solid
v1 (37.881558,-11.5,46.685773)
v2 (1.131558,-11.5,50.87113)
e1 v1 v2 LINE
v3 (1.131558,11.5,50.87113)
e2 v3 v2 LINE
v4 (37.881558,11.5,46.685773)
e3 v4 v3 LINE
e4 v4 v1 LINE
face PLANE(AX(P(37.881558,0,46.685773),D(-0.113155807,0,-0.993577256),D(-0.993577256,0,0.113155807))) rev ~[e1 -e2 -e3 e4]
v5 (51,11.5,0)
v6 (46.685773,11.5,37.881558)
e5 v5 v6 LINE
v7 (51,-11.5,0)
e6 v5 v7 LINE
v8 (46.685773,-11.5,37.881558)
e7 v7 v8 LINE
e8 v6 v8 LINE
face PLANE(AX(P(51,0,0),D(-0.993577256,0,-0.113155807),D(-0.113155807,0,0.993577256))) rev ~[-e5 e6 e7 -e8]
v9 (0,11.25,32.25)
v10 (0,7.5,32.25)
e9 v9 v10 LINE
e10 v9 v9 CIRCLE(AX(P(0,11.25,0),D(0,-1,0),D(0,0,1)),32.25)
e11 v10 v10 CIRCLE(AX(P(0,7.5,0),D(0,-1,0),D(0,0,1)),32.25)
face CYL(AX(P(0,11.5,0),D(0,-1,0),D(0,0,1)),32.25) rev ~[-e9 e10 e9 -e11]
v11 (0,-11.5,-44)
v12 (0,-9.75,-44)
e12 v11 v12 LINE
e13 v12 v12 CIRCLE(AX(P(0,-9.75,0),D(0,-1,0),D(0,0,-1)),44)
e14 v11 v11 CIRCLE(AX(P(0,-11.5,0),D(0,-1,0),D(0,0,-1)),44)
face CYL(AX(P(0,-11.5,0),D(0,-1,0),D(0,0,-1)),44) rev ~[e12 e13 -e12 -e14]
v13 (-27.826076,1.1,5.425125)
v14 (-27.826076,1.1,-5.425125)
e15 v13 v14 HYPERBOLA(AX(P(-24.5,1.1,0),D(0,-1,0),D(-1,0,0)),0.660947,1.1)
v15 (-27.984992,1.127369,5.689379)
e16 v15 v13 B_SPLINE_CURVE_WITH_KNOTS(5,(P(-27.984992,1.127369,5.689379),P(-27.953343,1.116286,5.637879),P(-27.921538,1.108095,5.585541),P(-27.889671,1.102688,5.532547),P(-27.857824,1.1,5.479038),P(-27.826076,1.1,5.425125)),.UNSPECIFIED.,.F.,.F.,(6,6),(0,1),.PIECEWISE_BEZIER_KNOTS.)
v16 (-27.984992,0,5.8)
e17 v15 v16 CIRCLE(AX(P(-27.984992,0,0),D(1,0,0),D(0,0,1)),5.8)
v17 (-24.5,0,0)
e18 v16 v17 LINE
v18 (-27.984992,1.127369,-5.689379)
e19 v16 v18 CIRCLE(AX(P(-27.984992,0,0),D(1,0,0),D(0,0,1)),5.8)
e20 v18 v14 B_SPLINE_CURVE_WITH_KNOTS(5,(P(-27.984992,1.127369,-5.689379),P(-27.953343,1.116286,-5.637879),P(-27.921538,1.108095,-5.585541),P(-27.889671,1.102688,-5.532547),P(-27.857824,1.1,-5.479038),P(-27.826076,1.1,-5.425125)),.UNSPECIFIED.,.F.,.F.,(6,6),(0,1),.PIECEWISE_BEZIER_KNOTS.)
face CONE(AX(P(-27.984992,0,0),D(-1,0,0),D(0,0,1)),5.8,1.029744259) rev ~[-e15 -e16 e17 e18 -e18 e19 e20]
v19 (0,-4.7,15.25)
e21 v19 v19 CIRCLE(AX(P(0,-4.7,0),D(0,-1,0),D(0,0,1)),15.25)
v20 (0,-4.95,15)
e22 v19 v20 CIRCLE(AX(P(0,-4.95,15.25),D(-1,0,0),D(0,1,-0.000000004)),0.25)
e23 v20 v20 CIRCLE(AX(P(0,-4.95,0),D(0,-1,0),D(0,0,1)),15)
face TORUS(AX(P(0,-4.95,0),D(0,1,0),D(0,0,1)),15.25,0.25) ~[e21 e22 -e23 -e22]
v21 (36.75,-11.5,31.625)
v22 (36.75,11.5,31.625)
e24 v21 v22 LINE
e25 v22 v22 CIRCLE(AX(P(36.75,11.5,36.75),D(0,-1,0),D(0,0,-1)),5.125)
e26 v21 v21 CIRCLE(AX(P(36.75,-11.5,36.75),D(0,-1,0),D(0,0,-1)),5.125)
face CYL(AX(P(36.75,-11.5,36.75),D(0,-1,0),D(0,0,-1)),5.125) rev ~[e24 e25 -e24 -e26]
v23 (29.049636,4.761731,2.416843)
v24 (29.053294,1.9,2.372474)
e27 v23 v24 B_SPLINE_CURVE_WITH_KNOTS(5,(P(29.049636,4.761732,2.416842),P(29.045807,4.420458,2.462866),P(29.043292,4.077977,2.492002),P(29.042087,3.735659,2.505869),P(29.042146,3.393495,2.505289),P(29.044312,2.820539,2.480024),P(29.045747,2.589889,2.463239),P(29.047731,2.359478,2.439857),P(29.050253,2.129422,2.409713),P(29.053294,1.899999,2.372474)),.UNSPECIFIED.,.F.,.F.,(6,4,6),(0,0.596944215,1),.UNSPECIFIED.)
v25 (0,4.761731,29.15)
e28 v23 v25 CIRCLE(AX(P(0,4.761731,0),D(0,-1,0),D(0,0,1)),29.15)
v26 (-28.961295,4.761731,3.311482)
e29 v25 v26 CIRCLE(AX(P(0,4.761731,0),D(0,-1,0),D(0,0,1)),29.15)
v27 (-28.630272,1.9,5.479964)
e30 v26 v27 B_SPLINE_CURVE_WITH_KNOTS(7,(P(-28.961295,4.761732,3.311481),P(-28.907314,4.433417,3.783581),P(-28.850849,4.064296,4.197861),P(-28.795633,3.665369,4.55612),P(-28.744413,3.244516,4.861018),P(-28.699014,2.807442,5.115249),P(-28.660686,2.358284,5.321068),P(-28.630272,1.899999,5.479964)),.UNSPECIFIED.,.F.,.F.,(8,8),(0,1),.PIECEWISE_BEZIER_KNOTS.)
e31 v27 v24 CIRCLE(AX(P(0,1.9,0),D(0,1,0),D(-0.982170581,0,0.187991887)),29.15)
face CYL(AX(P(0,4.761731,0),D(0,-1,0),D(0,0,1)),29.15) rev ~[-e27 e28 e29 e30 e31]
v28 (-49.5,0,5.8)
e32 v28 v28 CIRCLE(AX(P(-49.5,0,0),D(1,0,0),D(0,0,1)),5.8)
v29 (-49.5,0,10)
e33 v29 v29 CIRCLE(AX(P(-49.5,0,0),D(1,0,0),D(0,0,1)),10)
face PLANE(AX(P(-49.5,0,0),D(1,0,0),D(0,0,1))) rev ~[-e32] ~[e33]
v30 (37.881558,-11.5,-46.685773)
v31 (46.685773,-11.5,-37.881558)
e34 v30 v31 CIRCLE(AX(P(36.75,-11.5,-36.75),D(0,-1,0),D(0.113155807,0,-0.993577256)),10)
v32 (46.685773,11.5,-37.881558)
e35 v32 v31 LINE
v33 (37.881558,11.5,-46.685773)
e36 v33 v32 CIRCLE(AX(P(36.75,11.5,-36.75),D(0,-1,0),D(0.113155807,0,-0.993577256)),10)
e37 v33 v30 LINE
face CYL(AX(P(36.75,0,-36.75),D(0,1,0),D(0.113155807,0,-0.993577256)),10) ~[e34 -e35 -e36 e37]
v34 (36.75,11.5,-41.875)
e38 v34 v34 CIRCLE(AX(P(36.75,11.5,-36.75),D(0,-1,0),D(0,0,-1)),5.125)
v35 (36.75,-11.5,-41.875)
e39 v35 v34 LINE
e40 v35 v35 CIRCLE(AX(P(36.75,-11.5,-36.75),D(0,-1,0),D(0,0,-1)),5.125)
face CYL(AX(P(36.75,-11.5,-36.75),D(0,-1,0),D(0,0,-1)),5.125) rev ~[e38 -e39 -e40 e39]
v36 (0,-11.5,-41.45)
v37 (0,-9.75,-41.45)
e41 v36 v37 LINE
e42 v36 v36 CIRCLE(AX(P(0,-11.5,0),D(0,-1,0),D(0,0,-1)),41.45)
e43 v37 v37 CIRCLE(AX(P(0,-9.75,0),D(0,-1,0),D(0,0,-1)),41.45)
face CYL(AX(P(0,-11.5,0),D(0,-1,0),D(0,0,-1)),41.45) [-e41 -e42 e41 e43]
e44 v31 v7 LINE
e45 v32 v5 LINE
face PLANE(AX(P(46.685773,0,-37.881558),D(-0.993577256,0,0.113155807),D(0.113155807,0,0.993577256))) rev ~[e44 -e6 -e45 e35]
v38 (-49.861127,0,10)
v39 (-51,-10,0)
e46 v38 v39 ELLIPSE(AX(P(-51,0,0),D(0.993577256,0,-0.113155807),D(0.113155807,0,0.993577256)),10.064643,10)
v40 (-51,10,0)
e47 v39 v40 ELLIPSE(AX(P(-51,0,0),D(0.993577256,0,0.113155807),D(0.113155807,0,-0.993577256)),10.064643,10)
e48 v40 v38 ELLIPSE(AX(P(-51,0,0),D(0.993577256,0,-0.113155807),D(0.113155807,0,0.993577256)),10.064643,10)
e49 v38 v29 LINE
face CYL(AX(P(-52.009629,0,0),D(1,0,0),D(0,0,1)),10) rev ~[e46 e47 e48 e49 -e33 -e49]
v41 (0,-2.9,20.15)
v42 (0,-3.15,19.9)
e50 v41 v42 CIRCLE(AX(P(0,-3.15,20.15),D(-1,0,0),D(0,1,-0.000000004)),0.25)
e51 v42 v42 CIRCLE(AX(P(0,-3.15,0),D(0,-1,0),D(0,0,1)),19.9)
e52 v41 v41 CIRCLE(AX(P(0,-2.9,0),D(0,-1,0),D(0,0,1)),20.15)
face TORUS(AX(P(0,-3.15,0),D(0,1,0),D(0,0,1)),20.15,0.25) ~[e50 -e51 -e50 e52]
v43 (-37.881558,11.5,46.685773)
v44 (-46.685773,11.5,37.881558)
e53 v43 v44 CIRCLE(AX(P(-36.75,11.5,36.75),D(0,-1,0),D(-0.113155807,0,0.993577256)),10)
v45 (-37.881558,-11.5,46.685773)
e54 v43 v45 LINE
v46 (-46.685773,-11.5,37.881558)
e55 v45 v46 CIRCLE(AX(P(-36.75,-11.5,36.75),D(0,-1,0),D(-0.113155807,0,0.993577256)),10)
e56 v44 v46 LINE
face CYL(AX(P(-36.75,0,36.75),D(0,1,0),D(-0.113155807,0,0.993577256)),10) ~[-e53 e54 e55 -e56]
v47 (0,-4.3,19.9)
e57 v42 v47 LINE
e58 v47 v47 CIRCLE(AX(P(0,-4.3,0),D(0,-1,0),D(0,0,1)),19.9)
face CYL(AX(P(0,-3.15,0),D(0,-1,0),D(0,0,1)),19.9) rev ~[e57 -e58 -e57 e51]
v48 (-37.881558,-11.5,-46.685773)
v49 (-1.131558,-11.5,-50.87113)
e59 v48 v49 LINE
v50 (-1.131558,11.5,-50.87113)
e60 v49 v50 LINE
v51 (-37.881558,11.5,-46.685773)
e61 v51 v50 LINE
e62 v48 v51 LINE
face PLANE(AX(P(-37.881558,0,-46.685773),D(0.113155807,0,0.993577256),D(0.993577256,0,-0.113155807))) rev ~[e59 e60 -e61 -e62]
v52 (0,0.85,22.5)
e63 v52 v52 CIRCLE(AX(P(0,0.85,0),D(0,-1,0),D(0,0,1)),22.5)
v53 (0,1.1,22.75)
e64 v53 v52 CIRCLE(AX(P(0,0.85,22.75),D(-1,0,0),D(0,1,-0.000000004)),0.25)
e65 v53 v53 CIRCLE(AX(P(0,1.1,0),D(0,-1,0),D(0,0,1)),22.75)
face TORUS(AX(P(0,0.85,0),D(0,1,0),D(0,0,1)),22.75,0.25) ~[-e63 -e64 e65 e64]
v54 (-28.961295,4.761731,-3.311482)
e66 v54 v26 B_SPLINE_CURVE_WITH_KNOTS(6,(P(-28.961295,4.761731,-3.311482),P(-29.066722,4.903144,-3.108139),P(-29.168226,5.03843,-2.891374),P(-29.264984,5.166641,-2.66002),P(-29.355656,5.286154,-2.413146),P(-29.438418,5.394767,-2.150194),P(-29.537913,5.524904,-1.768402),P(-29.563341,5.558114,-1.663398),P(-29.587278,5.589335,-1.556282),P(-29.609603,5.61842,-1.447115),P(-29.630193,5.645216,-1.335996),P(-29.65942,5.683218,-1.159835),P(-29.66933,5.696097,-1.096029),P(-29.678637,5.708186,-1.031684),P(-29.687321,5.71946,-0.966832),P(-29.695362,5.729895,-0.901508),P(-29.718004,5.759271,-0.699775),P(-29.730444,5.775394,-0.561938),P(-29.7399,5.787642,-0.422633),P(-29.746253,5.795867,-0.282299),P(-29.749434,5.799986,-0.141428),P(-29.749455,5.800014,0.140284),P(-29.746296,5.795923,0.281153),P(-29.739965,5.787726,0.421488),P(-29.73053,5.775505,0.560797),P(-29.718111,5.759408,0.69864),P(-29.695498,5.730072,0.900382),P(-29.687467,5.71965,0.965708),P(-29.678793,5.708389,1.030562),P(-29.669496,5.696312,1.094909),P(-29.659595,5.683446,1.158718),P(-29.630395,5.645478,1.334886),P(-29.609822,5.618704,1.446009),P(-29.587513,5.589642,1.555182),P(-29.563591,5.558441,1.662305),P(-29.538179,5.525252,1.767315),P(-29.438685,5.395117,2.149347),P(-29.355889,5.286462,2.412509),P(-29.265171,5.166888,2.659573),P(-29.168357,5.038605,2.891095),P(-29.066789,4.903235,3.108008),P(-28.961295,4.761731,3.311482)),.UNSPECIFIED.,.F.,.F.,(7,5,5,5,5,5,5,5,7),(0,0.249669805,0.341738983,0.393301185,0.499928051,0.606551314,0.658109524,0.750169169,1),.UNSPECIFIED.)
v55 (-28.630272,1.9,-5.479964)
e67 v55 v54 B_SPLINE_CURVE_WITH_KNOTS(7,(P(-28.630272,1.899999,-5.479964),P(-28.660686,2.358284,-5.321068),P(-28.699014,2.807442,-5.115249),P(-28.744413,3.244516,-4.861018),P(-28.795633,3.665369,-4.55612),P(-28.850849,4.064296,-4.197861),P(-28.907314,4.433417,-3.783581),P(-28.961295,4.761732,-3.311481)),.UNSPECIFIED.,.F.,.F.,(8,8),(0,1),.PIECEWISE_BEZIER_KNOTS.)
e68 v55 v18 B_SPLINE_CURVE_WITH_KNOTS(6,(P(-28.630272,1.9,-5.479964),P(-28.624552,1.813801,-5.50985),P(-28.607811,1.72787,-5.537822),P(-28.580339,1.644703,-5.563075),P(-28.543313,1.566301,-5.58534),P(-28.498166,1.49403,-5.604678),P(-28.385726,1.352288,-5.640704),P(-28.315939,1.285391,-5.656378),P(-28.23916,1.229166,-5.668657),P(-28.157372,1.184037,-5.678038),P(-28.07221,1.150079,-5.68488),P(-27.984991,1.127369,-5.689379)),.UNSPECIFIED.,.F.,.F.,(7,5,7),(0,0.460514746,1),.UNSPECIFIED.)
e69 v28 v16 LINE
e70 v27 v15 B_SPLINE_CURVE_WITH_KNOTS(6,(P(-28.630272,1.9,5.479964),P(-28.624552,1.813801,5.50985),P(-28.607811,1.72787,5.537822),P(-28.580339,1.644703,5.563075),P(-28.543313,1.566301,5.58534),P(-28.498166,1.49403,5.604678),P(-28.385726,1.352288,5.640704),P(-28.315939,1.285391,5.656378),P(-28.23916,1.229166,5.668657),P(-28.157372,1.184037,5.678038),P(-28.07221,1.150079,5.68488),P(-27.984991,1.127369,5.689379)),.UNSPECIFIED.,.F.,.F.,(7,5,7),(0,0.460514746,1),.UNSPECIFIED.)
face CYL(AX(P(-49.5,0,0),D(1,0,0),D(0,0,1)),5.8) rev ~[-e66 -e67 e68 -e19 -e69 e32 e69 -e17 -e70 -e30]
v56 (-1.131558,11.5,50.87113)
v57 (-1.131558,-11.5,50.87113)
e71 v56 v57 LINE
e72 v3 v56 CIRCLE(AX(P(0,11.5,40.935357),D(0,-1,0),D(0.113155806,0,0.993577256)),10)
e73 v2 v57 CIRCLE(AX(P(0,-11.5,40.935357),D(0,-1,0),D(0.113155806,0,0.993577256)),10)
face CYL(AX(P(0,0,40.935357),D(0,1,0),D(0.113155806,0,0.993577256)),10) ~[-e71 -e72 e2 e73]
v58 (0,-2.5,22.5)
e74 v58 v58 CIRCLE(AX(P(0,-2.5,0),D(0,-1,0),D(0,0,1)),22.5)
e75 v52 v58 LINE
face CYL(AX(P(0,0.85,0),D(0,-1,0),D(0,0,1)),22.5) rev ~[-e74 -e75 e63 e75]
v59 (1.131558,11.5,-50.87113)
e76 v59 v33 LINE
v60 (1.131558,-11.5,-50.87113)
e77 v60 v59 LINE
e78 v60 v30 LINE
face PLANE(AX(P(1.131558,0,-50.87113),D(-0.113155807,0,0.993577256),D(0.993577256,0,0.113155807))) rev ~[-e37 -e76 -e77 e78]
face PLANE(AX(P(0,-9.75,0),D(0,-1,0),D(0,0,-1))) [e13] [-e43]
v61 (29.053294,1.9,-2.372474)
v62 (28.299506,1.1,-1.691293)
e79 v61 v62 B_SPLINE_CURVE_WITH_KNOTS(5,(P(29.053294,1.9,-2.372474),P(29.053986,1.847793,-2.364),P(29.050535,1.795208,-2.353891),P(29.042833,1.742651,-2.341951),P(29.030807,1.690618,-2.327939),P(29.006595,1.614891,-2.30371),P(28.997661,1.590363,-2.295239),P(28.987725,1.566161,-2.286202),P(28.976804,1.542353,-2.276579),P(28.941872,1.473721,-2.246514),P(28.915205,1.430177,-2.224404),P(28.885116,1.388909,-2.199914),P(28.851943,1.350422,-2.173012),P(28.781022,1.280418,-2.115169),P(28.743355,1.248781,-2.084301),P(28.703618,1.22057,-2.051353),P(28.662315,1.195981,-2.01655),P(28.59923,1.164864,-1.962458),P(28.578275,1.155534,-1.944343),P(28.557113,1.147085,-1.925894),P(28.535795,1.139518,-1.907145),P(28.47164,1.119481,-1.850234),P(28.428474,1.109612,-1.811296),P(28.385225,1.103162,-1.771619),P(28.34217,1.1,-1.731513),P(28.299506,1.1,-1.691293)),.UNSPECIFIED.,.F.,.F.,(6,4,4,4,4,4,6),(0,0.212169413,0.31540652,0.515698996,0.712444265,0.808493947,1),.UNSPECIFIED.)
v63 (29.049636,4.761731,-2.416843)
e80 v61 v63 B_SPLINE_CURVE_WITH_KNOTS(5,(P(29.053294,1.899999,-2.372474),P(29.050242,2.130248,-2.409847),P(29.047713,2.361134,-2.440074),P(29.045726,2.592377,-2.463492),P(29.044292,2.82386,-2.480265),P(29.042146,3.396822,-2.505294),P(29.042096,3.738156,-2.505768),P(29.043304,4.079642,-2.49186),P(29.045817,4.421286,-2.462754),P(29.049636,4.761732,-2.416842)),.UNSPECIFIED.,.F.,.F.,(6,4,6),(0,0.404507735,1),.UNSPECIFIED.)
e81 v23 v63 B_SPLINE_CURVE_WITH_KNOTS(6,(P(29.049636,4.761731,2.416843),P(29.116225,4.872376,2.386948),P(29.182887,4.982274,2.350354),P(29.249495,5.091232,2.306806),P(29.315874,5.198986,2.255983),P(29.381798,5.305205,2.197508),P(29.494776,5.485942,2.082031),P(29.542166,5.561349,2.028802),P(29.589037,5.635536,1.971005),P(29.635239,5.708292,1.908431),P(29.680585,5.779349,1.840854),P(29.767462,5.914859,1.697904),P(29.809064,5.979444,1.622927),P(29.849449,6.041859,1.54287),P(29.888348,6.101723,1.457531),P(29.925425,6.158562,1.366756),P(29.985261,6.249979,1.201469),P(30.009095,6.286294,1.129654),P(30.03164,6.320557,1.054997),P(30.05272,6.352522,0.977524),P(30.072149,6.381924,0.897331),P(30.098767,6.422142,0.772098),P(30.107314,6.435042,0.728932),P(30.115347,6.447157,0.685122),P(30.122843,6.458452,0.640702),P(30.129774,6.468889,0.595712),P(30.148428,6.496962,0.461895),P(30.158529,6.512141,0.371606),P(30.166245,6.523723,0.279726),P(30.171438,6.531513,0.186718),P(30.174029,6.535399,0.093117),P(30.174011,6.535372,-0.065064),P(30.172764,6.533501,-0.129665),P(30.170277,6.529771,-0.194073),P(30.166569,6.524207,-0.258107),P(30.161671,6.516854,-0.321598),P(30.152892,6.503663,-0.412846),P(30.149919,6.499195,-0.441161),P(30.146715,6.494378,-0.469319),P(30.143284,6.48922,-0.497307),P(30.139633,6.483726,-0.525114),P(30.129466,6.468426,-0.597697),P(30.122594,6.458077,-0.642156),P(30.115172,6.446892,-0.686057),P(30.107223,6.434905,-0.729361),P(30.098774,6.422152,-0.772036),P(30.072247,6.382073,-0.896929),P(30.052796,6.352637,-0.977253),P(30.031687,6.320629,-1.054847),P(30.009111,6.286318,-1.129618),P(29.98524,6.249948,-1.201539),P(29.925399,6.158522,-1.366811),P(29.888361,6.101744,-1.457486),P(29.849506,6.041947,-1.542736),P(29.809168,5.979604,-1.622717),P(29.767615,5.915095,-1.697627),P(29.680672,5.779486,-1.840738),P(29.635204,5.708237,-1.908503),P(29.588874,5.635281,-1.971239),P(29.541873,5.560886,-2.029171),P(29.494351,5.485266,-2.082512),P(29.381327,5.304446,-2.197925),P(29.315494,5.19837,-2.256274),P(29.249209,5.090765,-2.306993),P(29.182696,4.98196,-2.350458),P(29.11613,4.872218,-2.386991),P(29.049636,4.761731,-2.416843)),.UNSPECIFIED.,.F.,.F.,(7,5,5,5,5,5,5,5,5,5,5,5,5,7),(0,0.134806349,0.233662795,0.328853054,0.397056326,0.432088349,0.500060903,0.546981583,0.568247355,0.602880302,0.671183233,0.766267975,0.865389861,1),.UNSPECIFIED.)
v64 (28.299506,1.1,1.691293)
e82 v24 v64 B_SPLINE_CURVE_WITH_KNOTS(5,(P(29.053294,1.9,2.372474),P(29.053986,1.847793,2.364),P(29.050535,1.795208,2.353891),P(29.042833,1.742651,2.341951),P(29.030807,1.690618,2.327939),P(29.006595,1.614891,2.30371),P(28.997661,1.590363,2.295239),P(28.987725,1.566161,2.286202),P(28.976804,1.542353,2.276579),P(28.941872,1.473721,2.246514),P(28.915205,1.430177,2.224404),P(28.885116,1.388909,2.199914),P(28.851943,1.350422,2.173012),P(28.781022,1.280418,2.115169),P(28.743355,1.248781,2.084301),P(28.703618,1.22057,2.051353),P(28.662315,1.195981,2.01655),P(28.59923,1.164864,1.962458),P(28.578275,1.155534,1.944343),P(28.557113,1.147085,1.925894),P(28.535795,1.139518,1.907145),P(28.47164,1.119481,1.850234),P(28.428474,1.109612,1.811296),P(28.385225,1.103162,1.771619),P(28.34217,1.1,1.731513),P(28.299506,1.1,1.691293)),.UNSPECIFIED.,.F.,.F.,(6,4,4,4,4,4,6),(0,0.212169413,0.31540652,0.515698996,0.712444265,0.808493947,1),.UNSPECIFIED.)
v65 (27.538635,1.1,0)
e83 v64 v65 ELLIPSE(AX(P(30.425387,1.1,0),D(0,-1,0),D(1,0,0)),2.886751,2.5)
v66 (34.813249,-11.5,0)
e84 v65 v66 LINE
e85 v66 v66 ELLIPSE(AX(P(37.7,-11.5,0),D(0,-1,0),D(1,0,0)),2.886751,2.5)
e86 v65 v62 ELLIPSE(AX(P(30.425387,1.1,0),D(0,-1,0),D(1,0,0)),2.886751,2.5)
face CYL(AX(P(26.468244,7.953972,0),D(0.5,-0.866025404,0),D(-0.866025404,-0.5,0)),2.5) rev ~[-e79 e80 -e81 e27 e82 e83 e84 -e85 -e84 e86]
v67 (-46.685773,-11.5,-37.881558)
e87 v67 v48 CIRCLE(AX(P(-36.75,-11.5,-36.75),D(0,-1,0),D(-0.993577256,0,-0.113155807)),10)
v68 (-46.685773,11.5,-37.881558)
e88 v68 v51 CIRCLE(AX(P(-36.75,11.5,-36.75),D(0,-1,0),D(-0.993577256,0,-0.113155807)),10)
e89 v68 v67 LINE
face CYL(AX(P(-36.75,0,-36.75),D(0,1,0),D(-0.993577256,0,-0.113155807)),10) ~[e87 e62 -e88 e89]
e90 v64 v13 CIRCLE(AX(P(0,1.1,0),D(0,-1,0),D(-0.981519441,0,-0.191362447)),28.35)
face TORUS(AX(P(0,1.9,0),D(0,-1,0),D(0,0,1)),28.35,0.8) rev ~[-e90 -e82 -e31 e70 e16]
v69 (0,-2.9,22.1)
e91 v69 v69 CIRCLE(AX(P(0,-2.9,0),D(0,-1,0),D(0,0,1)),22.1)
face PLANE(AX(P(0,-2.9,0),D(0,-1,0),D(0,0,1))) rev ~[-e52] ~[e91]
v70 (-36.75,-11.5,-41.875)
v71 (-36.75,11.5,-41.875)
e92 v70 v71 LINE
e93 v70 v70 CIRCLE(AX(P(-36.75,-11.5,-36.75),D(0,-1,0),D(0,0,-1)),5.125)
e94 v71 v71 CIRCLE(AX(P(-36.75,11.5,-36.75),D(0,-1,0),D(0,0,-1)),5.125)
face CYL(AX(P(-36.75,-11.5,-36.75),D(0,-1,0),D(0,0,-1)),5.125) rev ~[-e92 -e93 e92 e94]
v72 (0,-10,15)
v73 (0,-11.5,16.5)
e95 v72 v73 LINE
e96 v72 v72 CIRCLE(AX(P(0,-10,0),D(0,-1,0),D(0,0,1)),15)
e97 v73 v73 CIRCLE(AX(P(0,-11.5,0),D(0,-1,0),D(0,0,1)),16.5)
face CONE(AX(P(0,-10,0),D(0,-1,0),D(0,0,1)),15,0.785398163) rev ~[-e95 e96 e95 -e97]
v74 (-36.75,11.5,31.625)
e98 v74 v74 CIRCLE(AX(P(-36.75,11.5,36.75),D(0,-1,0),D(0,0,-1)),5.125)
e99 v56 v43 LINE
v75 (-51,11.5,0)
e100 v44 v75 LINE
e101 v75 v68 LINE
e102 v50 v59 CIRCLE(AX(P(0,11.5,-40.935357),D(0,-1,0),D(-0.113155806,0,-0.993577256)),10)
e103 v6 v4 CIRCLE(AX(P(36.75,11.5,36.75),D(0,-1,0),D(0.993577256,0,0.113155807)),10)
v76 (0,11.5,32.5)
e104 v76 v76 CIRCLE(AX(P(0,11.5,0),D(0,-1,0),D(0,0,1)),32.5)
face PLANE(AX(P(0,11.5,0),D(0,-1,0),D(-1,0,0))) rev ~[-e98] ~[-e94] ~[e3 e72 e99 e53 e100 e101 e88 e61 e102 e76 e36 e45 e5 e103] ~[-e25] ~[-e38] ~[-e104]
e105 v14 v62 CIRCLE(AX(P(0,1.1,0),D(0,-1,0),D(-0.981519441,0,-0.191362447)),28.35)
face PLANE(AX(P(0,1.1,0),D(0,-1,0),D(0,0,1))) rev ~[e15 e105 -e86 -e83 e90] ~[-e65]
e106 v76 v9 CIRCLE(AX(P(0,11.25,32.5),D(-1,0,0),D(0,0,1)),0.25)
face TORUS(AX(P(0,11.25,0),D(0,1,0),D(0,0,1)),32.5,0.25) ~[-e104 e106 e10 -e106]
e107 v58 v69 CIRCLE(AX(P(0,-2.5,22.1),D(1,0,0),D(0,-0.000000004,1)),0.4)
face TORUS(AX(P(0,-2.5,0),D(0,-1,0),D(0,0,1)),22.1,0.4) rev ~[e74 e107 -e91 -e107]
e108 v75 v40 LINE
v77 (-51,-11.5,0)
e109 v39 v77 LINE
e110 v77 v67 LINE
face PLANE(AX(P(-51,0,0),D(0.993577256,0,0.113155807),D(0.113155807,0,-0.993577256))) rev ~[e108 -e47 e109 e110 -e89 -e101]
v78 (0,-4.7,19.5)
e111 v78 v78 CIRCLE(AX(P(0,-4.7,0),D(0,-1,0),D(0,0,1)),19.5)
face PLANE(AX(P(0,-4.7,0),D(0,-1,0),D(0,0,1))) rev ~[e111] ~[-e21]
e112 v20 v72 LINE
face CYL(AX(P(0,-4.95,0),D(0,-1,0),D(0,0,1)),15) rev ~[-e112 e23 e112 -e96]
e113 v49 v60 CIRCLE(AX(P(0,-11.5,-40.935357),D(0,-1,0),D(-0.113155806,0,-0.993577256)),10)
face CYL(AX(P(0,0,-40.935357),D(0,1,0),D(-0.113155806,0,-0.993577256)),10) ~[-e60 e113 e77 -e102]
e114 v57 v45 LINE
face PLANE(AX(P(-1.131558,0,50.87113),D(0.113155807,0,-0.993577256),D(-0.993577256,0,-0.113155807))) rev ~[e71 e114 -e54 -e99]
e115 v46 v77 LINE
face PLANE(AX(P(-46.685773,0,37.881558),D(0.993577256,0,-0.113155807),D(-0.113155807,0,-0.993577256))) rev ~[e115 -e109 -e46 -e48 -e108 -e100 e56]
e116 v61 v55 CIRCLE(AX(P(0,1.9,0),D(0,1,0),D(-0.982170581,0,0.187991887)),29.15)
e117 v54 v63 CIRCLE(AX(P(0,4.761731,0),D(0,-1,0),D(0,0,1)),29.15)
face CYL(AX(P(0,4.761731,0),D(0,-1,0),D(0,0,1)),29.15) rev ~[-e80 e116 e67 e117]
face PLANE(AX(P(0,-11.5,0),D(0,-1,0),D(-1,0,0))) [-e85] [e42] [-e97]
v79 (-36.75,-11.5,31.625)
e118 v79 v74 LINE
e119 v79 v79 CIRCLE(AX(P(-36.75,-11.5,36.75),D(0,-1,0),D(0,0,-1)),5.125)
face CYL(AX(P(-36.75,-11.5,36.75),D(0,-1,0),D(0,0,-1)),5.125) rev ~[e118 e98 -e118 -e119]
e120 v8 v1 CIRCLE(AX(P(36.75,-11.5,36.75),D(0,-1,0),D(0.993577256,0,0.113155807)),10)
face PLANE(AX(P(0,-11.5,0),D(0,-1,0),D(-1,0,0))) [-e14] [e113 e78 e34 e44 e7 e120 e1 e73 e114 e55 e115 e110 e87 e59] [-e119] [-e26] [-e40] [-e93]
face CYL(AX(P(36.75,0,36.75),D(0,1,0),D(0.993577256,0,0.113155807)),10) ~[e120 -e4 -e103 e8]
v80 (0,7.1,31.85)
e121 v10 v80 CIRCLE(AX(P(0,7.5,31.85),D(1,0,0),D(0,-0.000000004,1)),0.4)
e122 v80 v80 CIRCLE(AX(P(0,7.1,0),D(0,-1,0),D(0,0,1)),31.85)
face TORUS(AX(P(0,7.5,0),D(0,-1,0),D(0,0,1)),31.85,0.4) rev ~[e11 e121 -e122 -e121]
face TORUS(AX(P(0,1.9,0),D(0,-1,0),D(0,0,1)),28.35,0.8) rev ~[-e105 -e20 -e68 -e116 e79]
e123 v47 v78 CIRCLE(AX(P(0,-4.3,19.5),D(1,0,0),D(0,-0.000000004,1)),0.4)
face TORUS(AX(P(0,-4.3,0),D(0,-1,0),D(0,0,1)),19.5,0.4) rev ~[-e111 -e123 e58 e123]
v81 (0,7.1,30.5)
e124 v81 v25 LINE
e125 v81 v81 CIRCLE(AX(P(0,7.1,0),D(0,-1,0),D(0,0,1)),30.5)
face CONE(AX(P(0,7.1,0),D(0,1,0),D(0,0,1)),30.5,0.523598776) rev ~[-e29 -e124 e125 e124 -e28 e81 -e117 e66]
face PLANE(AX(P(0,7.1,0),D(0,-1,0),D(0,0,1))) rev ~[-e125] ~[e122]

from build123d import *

# Parameters (mm, degrees)
BOSS_EXTRUDE1_DEPTH = 11.5
SKETCH5_R           = 5.125
CUT_EXTRUDE3_DEPTH  = 76.659834992
SKETCH4_R           = 44
SKETCH4_R_2         = 41.45
CUT_EXTRUDE2_DEPTH  = 1.75
FILLET1_R           = 0.25


with BuildPart() as part:
    # Sketch2 → Boss-Extrude1 (new, symmetric)
    with BuildSketch(Plane(origin=(0, 0, 0), x_dir=(1, 0, 0), z_dir=(0, 1, 0))):
        with BuildLine():
            Line((1.131558067, 50.871129935), (37.881558067, 46.685772559))
            ThreePointArc((37.881558067, 46.685772559), (43.821067812, 43.821067812), (46.685772559, 37.881558067))
            Line((46.685772559, 37.881558067), (51, 0))
            Line((51, 0), (46.685772559, -37.881558067))
            ThreePointArc((46.685772559, -37.881558067), (43.821067812, -43.821067812), (37.881558067, -46.685772559))
            Line((37.881558067, -46.685772559), (1.131558067, -50.871129935))
            ThreePointArc((1.131558067, -50.871129935), (0, -50.935357376), (-1.131558067, -50.871129935))
            Line((-1.131558067, -50.871129935), (-37.881558067, -46.685772559))
            ThreePointArc((-37.881558067, -46.685772559), (-43.821067812, -43.821067812), (-46.685772559, -37.881558067))
            Line((-46.685772559, -37.881558067), (-51, 0))
            Line((-51, 0), (-46.685772559, 37.881558067))
            ThreePointArc((-46.685772559, 37.881558067), (-43.821067812, 43.821067812), (-37.881558067, 46.685772559))
            Line((-37.881558067, 46.685772559), (-1.131558067, 50.871129935))
            ThreePointArc((-1.131558067, 50.871129935), (0, 50.935357376), (1.131558067, 50.871129935))
        make_face()
    extrude(amount=BOSS_EXTRUDE1_DEPTH, both=True)

    # Sketch5 → Cut-Extrude3 (cut, through all)
    with BuildSketch(Plane.XZ.offset(11.5)):
        with Locations(Location((-36.75, 36.75, 0), (0, 0, 270))):
            Circle(SKETCH5_R)
        with Locations(Location((36.75, 36.75, 0), (0, 0, 270))):
            Circle(SKETCH5_R)
        with Locations(Location((-36.75, -36.75, 0), (0, 0, 270))):
            Circle(SKETCH5_R)
        with Locations(Location((36.75, -36.75, 0), (0, 0, 270))):
            Circle(SKETCH5_R)
    extrude(amount=-CUT_EXTRUDE3_DEPTH, mode=Mode.SUBTRACT)

    # Sketch4 → Cut-Extrude2 (cut)
    with BuildSketch(Plane.XZ.offset(11.5)):
        with Locations(Location((0, 0, 0), (0, 0, 270))):
            Circle(SKETCH4_R)
        with Locations(Location((0, 0, 0), (0, 0, 270))):
            Circle(SKETCH4_R_2, mode=Mode.SUBTRACT)
    extrude(amount=-CUT_EXTRUDE2_DEPTH, mode=Mode.SUBTRACT)

    # Sketch6 → Cut-Revolve1 (revolve, cut)
    with BuildSketch(Plane(origin=(0, 0, 0), x_dir=(0, 0, -1), z_dir=(1, 0, 0)), mode=Mode.PRIVATE) as cut_revolve1_sk:
        with BuildLine():
            Line((32.25, 11.5), (32.25, 7.5))
            ThreePointArc((32.25, 7.5), (32.132842712, 7.217157288), (31.85, 7.1))
            Line((31.85, 7.1), (30.5, 7.1))
            Line((30.5, 7.1), (29.15, 4.76173141))
            Line((29.15, 4.76173141), (29.15, 1.9))
            ThreePointArc((29.15, 1.9), (28.915685425, 1.334314575), (28.35, 1.1))
            Line((28.35, 1.1), (22.75, 1.1))
            ThreePointArc((22.75, 1.1), (22.573223305, 1.026776695), (22.5, 0.85))
            Line((22.5, 0.85), (22.5, -2.5))
            ThreePointArc((22.5, -2.5), (22.382842712, -2.782842712), (22.1, -2.9))
            Line((22.1, -2.9), (20.15, -2.9))
            ThreePointArc((20.15, -2.9), (19.973223305, -2.973223305), (19.9, -3.15))
            Line((19.9, -3.15), (19.9, -4.3))
            ThreePointArc((19.9, -4.3), (19.782842712, -4.582842712), (19.5, -4.7))
            Line((19.5, -4.7), (15.25, -4.7))
            ThreePointArc((15.25, -4.7), (15.073223305, -4.773223305), (15, -4.95))
            Line((15, -4.95), (15, -10))
            Line((15, -10), (16.5, -11.5))
            Line((16.5, -11.5), (0, -11.5))
            Line((0, -11.5), (0, 11.5))
            Line((0, 11.5), (32.25, 11.5))
        make_face()
    revolve(cut_revolve1_sk.sketch.rotate(Axis((0, 16.721250206, 0), (0, -1, 0)), 180), axis=Axis((0, 16.721250206, 0), (0, -1, 0)), mode=Mode.SUBTRACT)

    # Fillet1
    fillet1_edges = [part.edges().sort_by_distance(p)[0] for p in [
        (0, 11.5, -32.25),
    ]]
    fillet(fillet1_edges, radius=FILLET1_R)

    # Sketch7 → Cut-Revolve2 (revolve, cut)
    with BuildSketch(Plane.XY, mode=Mode.PRIVATE) as cut_revolve2_sk:
        Polygon((-52.009628693, 10), (-49.5, 10), (-49.5, 5.8), (-27.98499159, 5.8), (-24.5, 0), (-52.009628693, 0), align=None)
    revolve(cut_revolve2_sk.sketch.rotate(Axis((-52.009628693, 0, 0), (1, 0, 0)), 90), axis=Axis((-52.009628693, 0, 0), (1, 0, 0)), mode=Mode.SUBTRACT)

    # Sketch9 → Cut-Revolve3 (revolve, cut)
    with BuildSketch(Plane.XY):
        Polygon((26.468244231, 7.953971651), (24.303180721, 6.703971651), (37.448959942, -16.065185865), (39.614023451, -14.815185865), align=None)
    revolve(axis=Axis((26.468244231, 7.953971651, 0), (0.49999999999999484, -0.8660254037844416, 0)), mode=Mode.SUBTRACT)


solid = part.part
